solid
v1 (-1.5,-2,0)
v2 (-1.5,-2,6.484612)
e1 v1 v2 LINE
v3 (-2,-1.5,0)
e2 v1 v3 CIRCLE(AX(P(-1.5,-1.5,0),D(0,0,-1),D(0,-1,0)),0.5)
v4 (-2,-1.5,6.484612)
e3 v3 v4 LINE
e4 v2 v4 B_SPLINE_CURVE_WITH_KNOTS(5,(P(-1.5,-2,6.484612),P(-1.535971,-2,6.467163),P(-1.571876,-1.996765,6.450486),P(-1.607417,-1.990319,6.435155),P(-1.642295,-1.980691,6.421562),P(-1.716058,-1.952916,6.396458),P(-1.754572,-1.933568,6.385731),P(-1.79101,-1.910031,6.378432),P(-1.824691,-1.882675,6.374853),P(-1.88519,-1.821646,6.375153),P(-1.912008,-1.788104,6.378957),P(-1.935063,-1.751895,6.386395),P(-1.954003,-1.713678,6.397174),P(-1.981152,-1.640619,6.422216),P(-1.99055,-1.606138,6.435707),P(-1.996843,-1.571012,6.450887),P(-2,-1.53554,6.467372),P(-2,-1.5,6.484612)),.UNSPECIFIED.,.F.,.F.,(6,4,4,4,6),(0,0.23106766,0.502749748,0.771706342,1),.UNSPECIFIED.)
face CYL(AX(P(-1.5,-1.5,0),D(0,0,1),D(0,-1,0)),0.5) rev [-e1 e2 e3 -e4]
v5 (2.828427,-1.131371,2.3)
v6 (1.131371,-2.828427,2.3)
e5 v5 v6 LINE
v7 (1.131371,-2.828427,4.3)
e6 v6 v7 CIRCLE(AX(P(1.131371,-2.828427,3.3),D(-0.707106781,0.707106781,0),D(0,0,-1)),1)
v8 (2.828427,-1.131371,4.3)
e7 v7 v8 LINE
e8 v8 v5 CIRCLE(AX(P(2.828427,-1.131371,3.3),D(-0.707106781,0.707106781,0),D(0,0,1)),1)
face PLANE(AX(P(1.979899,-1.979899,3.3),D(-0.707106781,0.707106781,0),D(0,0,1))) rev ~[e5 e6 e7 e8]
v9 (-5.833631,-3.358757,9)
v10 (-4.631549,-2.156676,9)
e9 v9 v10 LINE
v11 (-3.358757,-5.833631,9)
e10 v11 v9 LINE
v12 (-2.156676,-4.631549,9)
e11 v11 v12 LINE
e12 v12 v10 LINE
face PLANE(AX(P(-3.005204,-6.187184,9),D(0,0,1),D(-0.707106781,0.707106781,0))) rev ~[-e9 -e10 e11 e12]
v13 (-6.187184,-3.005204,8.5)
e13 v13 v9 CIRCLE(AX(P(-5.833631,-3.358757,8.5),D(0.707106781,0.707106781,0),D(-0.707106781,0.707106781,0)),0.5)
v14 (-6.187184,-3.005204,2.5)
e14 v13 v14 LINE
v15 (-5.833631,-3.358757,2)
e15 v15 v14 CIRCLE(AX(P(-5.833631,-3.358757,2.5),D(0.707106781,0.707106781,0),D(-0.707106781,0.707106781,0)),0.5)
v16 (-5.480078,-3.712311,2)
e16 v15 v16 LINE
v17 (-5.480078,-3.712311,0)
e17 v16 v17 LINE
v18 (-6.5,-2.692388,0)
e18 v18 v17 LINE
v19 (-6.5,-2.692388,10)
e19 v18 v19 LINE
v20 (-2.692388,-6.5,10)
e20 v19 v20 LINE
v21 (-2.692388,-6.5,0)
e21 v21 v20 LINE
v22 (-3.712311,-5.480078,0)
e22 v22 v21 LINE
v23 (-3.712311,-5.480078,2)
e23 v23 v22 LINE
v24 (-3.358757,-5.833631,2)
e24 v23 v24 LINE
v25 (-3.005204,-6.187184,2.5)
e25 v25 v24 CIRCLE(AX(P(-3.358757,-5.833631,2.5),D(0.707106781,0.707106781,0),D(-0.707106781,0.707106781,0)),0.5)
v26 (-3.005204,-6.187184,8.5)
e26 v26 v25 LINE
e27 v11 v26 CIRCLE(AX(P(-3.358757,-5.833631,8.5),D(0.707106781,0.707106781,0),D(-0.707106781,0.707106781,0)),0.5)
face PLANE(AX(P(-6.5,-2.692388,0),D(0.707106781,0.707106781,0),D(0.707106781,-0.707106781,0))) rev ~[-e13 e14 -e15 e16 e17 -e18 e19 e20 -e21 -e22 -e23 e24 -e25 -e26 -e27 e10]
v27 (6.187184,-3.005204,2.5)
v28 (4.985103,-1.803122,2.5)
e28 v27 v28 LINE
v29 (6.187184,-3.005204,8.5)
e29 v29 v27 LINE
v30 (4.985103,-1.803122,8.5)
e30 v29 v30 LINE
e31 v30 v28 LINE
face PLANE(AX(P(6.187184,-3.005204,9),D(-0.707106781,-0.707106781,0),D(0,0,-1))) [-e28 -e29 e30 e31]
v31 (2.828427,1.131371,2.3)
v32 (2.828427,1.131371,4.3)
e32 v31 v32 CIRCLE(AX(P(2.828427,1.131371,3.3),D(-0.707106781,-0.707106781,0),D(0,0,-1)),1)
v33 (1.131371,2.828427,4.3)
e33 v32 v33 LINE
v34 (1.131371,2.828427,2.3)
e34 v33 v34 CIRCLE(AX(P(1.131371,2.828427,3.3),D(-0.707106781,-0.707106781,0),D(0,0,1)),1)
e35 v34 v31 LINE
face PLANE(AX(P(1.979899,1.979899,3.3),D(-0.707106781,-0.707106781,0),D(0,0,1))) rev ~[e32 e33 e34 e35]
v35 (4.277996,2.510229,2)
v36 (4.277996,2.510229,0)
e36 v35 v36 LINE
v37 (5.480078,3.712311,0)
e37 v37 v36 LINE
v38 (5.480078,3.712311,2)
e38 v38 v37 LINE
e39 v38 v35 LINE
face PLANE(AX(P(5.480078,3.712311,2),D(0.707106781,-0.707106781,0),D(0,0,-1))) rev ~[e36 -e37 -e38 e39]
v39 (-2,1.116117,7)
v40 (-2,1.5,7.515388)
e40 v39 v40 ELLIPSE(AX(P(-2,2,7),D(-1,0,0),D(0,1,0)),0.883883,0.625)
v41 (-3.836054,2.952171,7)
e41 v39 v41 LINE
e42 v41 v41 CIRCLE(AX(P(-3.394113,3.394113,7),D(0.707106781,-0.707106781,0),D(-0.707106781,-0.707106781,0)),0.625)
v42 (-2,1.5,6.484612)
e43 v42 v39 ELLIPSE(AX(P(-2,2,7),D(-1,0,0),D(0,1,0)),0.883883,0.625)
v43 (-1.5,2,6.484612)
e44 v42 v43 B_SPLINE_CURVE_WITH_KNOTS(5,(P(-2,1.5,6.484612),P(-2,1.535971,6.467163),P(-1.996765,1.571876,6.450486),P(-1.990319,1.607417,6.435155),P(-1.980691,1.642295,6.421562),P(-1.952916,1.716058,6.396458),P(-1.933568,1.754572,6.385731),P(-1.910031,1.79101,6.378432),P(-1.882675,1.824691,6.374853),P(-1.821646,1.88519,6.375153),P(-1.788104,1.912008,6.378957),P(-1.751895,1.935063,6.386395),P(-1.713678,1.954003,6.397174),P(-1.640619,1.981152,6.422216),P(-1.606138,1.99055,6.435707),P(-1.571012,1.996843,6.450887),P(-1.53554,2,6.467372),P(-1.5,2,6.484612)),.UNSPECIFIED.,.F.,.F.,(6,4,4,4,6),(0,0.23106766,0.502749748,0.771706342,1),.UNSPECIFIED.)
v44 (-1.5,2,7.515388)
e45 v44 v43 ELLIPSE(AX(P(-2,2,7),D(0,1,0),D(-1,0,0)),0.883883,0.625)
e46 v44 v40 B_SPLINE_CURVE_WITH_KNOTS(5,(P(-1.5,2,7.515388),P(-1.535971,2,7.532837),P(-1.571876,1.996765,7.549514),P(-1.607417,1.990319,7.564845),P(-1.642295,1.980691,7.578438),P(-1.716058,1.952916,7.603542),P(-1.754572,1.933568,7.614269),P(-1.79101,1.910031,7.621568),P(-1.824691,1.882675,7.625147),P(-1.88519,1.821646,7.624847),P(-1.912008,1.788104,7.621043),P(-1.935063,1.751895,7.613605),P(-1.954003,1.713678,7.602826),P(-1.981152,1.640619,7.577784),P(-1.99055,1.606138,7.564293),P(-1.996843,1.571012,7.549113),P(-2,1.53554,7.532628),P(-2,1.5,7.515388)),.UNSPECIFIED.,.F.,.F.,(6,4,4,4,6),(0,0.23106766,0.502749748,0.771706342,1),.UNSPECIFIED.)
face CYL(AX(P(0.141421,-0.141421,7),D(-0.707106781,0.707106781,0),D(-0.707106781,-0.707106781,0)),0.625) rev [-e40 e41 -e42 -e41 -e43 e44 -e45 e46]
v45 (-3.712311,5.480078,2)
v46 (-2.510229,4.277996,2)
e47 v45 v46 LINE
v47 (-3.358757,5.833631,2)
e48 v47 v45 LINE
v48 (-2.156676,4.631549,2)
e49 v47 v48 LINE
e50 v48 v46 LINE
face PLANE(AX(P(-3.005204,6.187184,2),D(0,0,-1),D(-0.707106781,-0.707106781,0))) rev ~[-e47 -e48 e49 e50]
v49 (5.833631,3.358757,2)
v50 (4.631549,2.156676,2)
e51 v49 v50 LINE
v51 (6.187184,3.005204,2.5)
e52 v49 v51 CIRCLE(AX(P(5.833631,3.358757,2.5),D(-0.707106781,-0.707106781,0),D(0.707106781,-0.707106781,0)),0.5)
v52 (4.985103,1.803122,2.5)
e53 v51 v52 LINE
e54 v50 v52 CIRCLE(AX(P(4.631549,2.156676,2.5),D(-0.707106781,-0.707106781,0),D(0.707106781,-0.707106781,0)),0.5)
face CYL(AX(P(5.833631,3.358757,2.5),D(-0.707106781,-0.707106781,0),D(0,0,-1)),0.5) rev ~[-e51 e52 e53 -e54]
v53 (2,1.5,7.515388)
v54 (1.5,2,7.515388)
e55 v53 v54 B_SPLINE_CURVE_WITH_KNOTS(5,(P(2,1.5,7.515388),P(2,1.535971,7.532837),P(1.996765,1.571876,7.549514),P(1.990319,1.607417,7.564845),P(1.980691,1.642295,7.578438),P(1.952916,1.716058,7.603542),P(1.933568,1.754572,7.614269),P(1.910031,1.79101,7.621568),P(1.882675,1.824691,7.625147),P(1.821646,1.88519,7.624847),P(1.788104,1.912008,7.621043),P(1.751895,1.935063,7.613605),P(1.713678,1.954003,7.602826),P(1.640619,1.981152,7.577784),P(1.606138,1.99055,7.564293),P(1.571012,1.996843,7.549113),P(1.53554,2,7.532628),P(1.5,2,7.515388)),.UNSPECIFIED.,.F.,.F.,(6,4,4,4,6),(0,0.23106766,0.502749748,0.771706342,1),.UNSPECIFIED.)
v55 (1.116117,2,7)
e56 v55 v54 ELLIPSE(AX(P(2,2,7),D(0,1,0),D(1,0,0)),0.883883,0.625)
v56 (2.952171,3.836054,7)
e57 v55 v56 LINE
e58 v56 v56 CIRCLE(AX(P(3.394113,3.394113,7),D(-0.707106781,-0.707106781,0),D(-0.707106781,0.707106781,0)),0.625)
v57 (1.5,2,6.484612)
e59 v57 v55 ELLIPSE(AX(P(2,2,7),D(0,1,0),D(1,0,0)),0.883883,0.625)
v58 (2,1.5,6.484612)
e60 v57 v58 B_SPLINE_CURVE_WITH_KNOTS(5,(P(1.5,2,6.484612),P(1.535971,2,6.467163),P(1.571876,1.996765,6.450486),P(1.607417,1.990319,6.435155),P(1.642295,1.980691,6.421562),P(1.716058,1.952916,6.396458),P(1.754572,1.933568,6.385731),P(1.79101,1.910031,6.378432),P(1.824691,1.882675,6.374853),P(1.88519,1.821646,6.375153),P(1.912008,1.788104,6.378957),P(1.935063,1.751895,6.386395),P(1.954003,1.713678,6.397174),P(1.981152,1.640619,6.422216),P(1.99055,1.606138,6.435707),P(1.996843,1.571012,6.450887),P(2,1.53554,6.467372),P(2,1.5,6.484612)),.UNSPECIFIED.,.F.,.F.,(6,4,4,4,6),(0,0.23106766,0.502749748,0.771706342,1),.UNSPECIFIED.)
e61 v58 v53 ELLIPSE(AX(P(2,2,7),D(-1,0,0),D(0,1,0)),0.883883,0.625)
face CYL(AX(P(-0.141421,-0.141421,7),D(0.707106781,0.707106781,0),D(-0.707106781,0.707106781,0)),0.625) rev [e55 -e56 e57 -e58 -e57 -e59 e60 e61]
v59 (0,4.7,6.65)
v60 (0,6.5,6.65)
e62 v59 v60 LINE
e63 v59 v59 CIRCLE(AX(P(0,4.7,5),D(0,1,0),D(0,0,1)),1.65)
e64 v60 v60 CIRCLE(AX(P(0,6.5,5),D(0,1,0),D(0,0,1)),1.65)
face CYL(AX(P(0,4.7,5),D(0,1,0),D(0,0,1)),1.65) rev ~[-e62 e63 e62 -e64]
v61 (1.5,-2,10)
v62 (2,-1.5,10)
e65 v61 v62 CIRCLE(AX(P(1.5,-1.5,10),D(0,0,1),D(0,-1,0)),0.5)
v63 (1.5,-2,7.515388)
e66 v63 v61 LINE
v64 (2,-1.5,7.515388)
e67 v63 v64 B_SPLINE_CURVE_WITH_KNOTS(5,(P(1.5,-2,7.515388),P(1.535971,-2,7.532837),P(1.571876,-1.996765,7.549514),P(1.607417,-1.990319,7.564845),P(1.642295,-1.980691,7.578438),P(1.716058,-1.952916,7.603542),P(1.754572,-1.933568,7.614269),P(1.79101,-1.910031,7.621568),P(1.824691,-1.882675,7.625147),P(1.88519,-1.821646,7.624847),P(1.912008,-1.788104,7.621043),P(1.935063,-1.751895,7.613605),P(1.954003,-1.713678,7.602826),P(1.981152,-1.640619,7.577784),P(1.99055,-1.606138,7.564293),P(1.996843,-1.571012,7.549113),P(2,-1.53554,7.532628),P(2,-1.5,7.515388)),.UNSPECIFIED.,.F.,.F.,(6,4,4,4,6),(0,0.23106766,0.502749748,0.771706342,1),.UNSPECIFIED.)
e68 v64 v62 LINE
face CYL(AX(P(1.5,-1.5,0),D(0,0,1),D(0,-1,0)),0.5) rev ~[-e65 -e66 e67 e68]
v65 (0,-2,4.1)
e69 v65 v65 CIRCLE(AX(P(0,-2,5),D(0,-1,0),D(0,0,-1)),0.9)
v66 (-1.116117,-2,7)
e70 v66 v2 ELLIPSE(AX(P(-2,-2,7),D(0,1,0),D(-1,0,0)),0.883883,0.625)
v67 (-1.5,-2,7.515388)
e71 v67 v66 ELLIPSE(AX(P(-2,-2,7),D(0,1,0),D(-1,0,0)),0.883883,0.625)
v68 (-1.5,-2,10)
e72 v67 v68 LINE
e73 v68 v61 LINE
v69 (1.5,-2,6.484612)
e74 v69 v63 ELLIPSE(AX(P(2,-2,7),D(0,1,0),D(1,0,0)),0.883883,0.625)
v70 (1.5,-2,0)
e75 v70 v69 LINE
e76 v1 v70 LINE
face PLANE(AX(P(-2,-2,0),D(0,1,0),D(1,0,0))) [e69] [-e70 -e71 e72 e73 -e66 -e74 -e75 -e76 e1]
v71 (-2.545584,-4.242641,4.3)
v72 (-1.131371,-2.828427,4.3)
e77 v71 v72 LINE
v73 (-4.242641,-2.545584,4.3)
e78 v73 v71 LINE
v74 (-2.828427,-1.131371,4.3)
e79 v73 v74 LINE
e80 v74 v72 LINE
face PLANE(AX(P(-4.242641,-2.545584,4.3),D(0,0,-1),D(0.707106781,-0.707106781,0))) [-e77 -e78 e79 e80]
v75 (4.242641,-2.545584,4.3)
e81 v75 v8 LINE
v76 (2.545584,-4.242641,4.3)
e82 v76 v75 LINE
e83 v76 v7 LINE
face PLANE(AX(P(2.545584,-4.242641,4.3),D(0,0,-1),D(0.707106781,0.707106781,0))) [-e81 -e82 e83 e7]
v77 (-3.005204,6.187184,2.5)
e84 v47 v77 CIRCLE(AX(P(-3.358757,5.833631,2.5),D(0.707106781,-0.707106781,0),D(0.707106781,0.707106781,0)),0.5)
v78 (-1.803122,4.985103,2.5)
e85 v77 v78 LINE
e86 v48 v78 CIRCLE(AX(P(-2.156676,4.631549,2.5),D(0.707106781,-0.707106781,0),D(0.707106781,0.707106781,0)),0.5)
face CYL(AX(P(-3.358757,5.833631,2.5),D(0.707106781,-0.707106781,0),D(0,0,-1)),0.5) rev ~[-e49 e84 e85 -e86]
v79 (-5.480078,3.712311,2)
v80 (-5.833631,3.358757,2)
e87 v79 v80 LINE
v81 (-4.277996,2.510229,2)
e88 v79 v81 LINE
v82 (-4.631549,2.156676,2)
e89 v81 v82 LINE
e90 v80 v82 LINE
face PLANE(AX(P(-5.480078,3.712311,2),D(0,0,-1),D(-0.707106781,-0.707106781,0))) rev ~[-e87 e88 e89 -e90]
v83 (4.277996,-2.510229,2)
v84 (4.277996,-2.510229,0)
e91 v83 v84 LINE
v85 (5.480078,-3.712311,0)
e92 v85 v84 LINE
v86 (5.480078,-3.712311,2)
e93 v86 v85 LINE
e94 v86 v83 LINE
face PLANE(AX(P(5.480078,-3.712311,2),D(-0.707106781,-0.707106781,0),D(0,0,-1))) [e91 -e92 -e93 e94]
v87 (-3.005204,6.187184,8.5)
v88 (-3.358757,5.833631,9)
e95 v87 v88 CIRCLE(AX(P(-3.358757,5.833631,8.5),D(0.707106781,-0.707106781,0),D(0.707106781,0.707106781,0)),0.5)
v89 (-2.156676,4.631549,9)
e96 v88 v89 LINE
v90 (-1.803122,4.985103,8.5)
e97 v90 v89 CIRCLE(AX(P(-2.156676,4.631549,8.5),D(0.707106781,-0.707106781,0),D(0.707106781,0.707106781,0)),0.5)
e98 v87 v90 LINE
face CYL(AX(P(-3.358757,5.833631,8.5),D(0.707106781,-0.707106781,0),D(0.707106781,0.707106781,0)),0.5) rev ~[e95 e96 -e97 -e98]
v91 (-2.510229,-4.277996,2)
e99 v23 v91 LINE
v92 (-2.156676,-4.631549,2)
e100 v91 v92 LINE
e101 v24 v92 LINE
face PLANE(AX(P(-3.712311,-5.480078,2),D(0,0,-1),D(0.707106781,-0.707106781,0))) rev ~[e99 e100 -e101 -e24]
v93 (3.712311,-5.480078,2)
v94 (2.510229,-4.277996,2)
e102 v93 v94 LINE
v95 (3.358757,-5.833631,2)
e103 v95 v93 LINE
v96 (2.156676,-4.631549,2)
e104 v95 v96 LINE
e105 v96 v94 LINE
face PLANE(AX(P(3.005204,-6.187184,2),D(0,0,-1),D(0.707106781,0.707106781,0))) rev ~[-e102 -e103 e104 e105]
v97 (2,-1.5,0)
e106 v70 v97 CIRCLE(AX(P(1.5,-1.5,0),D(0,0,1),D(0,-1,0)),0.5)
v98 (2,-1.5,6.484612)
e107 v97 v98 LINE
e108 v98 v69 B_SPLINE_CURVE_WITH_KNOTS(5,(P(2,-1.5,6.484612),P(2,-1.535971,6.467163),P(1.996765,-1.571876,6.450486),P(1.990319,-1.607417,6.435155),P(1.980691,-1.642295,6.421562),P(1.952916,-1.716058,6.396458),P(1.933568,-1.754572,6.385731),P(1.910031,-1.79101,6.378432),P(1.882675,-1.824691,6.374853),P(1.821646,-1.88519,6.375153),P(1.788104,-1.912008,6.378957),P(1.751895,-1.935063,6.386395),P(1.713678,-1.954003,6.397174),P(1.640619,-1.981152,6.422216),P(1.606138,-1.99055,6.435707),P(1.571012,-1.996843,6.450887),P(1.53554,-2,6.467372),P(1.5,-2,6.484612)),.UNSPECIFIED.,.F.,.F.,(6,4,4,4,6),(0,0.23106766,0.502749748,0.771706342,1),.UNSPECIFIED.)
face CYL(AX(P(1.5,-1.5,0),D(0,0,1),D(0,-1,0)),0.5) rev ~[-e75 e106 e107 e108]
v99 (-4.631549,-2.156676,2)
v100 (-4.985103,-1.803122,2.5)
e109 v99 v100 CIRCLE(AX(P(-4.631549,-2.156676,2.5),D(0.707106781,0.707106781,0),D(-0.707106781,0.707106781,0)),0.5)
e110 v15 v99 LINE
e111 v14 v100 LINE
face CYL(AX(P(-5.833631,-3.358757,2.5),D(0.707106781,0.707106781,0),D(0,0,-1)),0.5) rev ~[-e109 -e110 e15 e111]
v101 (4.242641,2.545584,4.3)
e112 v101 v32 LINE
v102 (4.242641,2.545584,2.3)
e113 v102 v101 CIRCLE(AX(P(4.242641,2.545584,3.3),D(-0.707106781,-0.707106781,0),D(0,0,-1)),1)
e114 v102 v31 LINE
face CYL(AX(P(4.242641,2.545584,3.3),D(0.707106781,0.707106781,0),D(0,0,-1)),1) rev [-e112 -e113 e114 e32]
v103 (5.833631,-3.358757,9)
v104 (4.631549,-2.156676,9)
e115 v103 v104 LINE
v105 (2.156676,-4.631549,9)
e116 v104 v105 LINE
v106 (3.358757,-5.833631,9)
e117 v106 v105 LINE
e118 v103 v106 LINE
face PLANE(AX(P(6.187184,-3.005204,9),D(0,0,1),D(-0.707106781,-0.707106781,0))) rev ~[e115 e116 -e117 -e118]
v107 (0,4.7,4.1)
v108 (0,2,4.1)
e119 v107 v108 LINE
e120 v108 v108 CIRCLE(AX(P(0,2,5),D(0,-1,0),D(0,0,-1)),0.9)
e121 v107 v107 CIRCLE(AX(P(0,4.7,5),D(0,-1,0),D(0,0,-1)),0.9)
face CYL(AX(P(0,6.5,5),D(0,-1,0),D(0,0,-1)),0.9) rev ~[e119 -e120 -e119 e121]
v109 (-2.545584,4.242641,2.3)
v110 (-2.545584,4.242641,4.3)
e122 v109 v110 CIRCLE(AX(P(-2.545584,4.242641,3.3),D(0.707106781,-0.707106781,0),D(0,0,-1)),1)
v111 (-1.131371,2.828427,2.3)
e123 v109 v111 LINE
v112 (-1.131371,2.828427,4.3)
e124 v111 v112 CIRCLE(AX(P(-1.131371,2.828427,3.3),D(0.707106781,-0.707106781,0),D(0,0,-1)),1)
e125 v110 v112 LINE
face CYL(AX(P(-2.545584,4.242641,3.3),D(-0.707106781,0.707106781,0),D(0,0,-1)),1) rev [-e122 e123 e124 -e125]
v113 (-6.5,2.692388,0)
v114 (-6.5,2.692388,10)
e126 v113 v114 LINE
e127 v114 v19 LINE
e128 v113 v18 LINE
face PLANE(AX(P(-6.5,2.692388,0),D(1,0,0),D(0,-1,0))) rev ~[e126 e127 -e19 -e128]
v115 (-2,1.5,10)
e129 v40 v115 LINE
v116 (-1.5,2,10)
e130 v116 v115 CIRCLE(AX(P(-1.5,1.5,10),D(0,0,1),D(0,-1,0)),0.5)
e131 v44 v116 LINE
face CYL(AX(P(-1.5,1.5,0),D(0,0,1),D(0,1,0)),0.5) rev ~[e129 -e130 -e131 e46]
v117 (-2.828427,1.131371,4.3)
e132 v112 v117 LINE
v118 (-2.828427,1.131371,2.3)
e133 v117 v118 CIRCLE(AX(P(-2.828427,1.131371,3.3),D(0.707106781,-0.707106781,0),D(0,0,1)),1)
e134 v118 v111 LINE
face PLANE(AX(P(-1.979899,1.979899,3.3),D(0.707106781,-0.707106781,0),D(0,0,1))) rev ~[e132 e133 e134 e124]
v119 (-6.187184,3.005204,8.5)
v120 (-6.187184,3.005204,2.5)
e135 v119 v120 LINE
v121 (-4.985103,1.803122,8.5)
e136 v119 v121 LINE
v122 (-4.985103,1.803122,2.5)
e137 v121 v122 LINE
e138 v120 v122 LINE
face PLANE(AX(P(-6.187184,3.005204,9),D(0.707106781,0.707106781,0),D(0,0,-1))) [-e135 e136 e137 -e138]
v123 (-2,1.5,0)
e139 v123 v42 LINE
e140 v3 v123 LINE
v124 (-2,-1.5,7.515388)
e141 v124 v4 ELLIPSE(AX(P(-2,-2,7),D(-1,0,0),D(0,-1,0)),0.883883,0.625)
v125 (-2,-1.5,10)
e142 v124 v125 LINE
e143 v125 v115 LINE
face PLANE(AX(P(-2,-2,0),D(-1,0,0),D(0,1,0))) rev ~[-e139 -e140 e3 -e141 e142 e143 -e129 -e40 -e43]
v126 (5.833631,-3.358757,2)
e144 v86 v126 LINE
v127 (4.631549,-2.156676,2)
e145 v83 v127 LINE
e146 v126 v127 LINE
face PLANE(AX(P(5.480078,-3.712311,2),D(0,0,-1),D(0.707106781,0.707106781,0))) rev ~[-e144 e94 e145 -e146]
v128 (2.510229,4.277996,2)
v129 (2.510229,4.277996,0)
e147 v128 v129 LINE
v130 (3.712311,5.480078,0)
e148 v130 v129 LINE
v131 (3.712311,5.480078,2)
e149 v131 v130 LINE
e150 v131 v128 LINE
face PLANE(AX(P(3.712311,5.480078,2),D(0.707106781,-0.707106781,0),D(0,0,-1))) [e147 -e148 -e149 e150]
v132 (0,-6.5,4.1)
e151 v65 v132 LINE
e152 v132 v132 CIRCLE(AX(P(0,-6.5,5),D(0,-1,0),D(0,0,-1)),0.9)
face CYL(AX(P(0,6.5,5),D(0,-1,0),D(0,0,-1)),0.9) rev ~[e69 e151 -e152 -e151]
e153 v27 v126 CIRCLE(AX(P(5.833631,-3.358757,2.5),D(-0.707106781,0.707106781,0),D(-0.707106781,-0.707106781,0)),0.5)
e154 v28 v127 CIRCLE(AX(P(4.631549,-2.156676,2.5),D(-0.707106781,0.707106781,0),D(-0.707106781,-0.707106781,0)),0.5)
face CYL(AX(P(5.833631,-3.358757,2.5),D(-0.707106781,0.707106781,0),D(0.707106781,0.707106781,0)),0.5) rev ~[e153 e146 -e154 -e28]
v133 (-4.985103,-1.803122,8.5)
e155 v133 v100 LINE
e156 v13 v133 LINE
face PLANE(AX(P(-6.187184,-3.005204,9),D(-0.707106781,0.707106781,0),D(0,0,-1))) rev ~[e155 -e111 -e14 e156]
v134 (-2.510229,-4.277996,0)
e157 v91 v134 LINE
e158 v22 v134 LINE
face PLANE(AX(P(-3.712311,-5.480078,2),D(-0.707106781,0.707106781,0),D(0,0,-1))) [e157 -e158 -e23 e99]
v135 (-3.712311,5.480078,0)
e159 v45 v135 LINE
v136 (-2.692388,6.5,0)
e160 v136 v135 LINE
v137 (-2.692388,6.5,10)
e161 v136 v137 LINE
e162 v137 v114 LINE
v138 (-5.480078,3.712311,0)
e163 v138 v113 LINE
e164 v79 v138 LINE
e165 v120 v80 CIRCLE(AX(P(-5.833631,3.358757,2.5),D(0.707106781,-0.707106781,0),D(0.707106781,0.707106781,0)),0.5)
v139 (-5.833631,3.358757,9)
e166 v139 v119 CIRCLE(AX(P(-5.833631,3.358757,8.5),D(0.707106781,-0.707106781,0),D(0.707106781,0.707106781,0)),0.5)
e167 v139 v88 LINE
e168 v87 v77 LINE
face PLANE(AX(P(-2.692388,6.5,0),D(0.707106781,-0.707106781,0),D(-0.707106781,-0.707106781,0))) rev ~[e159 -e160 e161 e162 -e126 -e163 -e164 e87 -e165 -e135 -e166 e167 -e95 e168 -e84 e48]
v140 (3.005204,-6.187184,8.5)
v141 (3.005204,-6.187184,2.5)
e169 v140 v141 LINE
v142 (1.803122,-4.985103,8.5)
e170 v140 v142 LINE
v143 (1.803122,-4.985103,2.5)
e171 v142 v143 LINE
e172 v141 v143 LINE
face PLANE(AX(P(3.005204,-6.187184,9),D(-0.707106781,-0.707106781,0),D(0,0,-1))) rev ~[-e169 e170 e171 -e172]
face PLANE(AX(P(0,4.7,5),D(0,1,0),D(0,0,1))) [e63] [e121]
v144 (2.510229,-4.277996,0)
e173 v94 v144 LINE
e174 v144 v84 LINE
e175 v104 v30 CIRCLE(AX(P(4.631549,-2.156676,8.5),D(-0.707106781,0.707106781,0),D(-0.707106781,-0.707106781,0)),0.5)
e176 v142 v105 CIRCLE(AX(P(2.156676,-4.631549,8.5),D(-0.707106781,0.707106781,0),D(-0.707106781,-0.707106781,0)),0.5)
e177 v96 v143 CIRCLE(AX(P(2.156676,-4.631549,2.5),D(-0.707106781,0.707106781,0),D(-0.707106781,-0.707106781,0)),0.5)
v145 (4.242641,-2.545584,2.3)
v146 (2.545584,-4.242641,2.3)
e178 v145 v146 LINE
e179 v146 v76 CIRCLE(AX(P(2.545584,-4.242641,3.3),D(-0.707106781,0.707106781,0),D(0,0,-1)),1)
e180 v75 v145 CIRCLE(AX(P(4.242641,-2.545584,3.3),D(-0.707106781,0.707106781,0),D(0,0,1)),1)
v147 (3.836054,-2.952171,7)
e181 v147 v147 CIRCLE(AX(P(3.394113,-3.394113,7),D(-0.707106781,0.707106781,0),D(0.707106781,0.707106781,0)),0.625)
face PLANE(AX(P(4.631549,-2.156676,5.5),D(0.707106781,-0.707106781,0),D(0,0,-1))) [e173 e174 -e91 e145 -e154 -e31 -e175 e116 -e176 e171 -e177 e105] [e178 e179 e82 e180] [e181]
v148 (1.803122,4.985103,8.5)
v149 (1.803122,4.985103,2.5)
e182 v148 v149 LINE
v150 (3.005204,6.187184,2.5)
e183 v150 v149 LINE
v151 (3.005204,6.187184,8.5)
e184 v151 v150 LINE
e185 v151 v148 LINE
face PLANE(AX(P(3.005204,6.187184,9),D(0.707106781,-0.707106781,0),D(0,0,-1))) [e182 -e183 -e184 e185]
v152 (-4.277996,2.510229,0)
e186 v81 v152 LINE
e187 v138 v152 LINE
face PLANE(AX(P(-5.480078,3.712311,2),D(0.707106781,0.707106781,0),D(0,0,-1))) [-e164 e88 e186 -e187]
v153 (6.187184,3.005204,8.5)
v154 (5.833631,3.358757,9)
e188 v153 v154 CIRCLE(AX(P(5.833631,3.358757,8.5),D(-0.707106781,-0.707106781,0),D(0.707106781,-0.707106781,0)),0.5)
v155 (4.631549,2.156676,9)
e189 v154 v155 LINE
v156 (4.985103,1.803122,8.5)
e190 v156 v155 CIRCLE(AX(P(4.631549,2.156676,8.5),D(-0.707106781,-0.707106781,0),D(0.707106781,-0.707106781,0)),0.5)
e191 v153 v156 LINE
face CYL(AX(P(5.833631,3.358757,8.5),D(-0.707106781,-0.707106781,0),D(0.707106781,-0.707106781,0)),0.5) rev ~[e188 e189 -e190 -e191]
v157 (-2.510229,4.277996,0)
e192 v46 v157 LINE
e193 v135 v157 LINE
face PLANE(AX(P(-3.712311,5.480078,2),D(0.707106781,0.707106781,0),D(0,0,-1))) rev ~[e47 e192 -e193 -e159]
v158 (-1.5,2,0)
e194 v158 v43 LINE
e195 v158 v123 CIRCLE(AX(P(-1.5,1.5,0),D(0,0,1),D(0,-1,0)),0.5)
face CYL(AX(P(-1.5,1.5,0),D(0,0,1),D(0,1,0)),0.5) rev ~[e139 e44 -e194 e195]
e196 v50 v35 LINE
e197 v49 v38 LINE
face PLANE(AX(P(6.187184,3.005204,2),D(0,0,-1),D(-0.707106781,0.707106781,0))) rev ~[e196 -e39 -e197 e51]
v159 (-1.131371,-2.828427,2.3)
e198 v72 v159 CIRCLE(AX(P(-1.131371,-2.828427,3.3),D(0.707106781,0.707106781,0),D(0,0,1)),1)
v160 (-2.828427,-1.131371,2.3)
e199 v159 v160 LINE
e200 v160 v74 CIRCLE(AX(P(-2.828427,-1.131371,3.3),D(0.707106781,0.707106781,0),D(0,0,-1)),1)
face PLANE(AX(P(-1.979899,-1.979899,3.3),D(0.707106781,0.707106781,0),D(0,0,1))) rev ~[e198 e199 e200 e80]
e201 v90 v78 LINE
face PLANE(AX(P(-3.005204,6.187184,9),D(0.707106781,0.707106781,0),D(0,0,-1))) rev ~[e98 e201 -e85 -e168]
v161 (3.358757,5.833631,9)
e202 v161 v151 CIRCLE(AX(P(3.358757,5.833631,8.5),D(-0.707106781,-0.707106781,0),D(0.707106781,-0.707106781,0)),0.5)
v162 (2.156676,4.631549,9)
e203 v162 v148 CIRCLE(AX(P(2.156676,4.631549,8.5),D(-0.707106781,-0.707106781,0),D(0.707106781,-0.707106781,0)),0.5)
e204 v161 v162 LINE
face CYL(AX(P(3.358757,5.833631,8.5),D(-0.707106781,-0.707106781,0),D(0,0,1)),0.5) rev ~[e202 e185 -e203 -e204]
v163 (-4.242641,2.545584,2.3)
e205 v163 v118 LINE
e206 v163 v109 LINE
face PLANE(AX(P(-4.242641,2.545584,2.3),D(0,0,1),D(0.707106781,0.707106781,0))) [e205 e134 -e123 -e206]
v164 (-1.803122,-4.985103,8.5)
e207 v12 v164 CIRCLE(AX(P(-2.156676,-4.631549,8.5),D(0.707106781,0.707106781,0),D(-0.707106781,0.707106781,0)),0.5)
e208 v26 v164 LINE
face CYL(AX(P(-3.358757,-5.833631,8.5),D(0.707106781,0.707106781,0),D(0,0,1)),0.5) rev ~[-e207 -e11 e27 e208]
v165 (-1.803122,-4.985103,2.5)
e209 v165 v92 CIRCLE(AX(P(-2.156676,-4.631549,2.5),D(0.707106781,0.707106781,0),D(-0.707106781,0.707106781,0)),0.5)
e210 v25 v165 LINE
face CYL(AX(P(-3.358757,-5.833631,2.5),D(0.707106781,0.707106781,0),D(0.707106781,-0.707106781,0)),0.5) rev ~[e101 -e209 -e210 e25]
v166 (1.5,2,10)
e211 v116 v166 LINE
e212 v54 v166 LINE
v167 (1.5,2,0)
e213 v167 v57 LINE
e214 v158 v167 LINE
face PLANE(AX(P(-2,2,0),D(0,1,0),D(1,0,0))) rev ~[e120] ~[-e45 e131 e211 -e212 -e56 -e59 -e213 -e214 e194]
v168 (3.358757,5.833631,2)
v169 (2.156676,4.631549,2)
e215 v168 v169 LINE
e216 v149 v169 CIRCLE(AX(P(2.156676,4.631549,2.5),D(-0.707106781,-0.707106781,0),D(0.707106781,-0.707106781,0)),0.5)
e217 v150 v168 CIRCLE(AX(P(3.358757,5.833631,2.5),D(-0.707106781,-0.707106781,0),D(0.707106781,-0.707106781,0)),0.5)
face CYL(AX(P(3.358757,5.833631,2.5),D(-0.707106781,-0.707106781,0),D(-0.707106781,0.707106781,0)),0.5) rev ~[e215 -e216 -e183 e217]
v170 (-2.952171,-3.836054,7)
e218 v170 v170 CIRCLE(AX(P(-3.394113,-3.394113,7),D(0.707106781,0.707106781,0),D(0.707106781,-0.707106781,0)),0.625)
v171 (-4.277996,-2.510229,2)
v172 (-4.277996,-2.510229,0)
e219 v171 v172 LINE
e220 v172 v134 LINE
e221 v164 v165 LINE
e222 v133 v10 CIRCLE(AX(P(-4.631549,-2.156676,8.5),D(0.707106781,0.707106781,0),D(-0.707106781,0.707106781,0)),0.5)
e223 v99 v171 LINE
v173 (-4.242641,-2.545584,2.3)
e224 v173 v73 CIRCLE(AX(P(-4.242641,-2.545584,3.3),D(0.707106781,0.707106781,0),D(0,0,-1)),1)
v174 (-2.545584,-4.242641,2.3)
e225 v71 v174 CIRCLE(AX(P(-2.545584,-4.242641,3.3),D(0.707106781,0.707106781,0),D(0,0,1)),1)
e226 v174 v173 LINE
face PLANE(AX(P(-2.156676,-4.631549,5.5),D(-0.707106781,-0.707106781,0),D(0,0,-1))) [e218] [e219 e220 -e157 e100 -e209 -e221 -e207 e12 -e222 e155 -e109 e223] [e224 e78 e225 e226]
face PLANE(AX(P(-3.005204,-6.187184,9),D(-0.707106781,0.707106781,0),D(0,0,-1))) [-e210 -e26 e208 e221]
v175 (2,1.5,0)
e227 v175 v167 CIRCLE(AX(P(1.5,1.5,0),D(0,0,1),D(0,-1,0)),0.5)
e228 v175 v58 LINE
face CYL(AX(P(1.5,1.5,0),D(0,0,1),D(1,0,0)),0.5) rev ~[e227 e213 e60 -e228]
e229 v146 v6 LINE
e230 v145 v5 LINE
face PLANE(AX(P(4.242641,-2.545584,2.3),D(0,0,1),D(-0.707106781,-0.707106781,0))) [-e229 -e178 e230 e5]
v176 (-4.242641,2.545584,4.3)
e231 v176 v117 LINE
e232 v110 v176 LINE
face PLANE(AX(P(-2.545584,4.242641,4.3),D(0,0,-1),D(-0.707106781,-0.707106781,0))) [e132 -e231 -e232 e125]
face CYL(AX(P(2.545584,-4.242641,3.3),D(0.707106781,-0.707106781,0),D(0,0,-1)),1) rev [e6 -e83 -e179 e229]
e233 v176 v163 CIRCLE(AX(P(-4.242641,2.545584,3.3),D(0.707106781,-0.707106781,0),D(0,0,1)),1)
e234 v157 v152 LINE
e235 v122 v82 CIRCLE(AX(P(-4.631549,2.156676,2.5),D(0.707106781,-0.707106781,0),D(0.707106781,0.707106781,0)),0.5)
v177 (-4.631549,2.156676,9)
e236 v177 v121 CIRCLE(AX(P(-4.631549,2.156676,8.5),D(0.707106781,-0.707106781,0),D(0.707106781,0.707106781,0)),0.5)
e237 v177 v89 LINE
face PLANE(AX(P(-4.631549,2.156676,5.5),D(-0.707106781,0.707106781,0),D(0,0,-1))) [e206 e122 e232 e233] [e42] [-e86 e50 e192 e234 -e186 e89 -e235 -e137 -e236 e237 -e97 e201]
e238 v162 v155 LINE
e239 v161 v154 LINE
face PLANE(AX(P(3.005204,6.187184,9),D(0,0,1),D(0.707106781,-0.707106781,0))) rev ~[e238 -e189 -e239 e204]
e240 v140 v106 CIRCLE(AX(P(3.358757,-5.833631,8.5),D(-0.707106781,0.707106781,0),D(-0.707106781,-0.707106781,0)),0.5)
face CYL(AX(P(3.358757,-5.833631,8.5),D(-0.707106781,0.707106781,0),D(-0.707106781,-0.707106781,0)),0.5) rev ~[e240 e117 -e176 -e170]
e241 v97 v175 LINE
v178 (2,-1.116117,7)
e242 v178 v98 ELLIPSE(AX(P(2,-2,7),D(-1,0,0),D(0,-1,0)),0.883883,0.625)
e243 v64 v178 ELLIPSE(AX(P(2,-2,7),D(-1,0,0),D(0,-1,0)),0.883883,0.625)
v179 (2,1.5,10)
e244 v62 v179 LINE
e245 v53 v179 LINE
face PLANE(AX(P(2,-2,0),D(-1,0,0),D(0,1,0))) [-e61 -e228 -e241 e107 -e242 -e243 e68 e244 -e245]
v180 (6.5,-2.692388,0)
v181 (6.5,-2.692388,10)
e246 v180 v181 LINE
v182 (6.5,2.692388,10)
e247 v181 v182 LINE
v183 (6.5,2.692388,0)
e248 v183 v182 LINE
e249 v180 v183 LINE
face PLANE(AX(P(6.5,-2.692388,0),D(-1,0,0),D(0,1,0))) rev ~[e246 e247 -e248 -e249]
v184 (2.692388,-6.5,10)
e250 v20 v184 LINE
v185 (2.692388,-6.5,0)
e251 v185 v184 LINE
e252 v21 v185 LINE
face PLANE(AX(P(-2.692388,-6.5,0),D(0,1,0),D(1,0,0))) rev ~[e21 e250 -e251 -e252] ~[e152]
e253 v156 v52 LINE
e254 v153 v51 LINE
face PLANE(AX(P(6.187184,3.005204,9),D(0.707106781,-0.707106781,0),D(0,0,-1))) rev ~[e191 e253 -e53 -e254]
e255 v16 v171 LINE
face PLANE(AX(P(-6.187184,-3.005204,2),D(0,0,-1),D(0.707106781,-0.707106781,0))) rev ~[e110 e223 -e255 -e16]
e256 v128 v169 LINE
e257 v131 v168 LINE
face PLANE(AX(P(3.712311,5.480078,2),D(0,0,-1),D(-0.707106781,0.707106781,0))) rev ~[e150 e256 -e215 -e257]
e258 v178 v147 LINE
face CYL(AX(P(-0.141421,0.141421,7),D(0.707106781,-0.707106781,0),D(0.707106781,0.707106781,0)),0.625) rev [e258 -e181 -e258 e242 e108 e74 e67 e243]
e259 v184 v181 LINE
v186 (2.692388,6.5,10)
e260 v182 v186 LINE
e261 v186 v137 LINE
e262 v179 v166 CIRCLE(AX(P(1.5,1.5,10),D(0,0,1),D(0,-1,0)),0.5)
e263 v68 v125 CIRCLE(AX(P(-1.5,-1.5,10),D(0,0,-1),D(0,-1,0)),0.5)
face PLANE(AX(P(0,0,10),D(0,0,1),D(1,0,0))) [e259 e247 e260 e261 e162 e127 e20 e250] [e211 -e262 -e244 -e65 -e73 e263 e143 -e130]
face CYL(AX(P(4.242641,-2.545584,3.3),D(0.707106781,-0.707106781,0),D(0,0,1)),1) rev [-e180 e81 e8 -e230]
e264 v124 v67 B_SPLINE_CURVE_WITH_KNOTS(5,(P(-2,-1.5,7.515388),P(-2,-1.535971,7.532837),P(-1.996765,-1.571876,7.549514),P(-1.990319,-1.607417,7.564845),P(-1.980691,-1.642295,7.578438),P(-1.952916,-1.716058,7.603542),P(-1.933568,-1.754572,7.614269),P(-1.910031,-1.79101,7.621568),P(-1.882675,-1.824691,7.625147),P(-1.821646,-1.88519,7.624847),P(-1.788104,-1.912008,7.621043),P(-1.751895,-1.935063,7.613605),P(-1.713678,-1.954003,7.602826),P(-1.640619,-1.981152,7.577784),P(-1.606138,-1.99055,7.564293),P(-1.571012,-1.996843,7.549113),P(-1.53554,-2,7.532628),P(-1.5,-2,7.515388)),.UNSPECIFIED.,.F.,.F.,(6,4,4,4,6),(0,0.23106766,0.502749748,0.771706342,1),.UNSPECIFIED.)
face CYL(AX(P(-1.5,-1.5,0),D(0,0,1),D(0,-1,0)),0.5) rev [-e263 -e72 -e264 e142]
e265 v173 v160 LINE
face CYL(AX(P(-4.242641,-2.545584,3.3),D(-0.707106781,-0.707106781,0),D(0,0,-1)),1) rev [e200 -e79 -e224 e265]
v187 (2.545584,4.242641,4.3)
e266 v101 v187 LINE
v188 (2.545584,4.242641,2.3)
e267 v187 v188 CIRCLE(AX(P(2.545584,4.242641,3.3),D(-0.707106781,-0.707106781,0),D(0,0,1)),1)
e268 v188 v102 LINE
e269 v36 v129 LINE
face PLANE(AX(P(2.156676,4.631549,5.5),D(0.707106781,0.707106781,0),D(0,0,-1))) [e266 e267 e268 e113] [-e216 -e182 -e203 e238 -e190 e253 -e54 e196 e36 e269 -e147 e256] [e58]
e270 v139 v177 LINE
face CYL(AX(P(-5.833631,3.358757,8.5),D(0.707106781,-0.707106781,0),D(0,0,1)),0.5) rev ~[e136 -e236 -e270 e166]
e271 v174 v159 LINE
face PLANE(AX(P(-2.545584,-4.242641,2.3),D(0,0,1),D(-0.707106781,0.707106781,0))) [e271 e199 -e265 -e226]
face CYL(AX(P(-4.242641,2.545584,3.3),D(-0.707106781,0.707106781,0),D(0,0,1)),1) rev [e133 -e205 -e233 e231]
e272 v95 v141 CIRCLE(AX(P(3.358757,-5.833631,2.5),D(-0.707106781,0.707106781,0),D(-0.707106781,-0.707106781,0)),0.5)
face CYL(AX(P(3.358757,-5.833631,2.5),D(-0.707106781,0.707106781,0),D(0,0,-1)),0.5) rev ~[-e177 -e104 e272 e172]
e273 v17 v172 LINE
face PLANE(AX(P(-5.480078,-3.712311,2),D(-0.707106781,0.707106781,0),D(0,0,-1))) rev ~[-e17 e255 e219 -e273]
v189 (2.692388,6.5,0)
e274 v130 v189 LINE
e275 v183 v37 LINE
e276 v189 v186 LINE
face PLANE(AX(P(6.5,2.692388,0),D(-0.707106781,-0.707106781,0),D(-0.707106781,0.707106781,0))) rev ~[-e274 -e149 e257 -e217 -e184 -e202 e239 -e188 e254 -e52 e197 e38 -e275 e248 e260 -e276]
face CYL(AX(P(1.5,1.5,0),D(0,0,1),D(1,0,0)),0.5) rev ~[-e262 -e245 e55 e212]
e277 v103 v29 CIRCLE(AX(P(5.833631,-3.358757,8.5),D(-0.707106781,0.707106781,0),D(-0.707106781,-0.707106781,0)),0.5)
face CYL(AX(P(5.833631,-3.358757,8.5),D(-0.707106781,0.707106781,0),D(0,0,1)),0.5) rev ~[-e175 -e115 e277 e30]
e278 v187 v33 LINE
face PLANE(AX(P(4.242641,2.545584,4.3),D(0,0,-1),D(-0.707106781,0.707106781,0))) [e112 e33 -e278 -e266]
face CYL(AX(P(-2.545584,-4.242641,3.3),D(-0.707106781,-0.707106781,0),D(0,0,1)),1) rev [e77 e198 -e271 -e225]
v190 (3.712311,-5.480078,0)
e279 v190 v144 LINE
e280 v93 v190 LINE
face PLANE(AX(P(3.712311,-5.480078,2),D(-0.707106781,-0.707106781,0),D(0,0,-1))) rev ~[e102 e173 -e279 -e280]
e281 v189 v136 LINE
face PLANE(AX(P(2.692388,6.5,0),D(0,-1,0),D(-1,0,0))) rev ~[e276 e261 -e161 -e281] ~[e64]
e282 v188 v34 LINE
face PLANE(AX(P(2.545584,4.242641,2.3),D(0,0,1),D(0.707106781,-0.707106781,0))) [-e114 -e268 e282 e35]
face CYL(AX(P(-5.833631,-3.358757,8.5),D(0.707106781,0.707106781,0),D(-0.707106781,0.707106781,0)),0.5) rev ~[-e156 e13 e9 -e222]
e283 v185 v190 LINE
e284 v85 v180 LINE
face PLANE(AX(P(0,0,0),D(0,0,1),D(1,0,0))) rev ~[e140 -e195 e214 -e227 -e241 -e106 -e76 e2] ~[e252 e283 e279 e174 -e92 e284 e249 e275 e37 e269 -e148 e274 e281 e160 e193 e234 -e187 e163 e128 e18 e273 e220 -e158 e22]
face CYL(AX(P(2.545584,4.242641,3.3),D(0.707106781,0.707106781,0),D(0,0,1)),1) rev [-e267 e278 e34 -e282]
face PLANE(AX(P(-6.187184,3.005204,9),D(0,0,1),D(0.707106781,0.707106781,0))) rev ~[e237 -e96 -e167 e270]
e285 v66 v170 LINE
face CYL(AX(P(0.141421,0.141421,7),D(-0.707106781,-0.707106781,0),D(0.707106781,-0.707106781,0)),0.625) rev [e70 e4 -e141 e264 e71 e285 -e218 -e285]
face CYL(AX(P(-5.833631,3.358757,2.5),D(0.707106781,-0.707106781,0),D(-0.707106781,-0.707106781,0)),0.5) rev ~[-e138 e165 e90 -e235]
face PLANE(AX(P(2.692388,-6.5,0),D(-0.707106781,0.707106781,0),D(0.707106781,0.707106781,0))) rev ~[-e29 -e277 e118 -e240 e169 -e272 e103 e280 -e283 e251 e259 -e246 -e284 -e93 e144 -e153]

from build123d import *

# Parameters (mm, degrees)
SKETCH1_W                                            = 4
SKETCH1_H                                            = 4
BOSS_EXTRUDE1_DEPTH                                  = 10
FILLET2_R                                            = 0.5
CUT_EXTRUDE3_DEPTH                                   = 1.7
FILLET3_R                                            = 0.5
CUT_EXTRUDE4_DEPTH                                   = 2
CIRPATTERN14_COUNT                                   = 4
FILLET3_OF_CIRPATTERN14_R                            = 0.5
CBORE_FOR_M1_6_HEXAGON_SOCKET_HEAD_CAP_S_D           = 1.8
CBORE_FOR_M1_6_HEXAGON_SOCKET_HEAD_CAP_S_CBORE_D     = 3.3
CBORE_FOR_M1_6_HEXAGON_SOCKET_HEAD_CAP_S_CBORE_DEPTH = 1.8


with BuildPart() as part:
    # Sketch1 → Boss-Extrude1 (new body)
    with BuildSketch(Plane.XY):
        Polygon((-2.692388155, 6.5), (-6.5, 2.692388155), (-6.5, -2.692388155), (-2.692388155, -6.5), (2.692388155, -6.5), (6.5, -2.692388155), (6.5, 2.692388155), (2.692388155, 6.5), align=None)
        Rectangle(SKETCH1_W, SKETCH1_H, mode=Mode.SUBTRACT)
    extrude(amount=BOSS_EXTRUDE1_DEPTH)

    # Fillet2
    fillet2_edges = [part.edges().sort_by_distance(p)[0] for p in [
        (-2, -2, 5),
        (2, -2, 5),
        (2, 2, 5),
        (-2, 2, 5),
    ]]
    fillet(fillet2_edges, radius=FILLET2_R)

    # Sketch11 → Cut-Extrude3 (cut)
    with BuildSketch(Plane(origin=(4.596194078, 4.596194078, 0), x_dir=(0, 0, -1), z_dir=(0.7071067811865477, 0.7071067811865475, 0))):
        Polygon((-2, 2.25), (-9, 2.25), (-9, -2.25), (-2, -2.25), (-2, -1.25), (0, -1.25), (0, 1.25), (-2, 1.25), align=None)
    cut_extrude3 = extrude(amount=-CUT_EXTRUDE3_DEPTH, mode=Mode.SUBTRACT)

    # Fillet3
    fillet3_edges = [part.edges().sort_by_distance(p)[0] for p in [
        (5.586143571, 2.404163056, 9),
        (5.586143571, 2.404163056, 2),
        (2.404163056, 5.586143571, 2),
        (2.404163056, 5.586143571, 9),
    ]]
    fillet(fillet3_edges, radius=FILLET3_R)

    # Sketch13 → Tap Drill for M1.6 Tap2 (revolve, cut)
    with BuildSketch(Plane(origin=(3.39411255, 3.39411255, 7), x_dir=(-0.7071067811865475, 0.7071067811865477, 0), z_dir=(0, 0, 1))):
        Polygon((0, 0), (0, 5.375537887), (0.625, 5), (0.625, 0), align=None)
    tap_drill_for_m1_6_tap2 = revolve(axis=Axis((7.88424061, 7.88424061, 7), (-0.7071067811865477, -0.7071067811865475, 0)), mode=Mode.SUBTRACT)

    # Sketch14 → Cut-Extrude4 (cut)
    with BuildSketch(Plane(origin=(3.39411255, 3.39411255, 0), x_dir=(0, 0, -1), z_dir=(0.7071067811865476, 0.7071067811865476, 0))):
        with BuildLine():
            Line((-2.3, 1.2), (-2.3, -1.2))
            ThreePointArc((-2.3, -1.2), (-3.3, -2.2), (-4.3, -1.2))
            Line((-4.3, -1.2), (-4.3, 1.2))
            ThreePointArc((-4.3, 1.2), (-3.3, 2.2), (-2.3, 1.2))
        make_face()
    cut_extrude4 = extrude(amount=-CUT_EXTRUDE4_DEPTH, mode=Mode.SUBTRACT)

    # CirPattern14: Cut-Extrude3, Tap Drill for M1.6 Tap2, Cut-Extrude4 ×4 about axis
    cirpattern14_axis = Axis((0, 0, 10.5), (0, 0, -1))
    add([cut_extrude3.rotate(cirpattern14_axis, i * 360 / CIRPATTERN14_COUNT) for i in range(1, CIRPATTERN14_COUNT)], mode=Mode.SUBTRACT)
    add([tap_drill_for_m1_6_tap2.rotate(cirpattern14_axis, i * 360 / CIRPATTERN14_COUNT) for i in range(1, CIRPATTERN14_COUNT)], mode=Mode.SUBTRACT)
    add([cut_extrude4.rotate(cirpattern14_axis, i * 360 / CIRPATTERN14_COUNT) for i in range(1, CIRPATTERN14_COUNT)], mode=Mode.SUBTRACT)

    # Fillet3 of CirPattern14
    fillet3_of_cirpattern14_edges = [part.edges().sort_by_distance(p)[0] for p in [
        (2.404163056, -5.586143571, 9),
        (2.404163056, -5.586143571, 2),
        (5.586143571, -2.404163056, 2),
        (5.586143571, -2.404163056, 9),
        (-5.586143571, -2.404163056, 9),
        (-5.586143571, -2.404163056, 2),
        (-2.404163056, -5.586143571, 2),
        (-2.404163056, -5.586143571, 9),
        (-2.404163056, 5.586143571, 9),
        (-2.404163056, 5.586143571, 2),
        (-5.586143571, 2.404163056, 2),
        (-5.586143571, 2.404163056, 9),
    ]]
    fillet(fillet3_of_cirpattern14_edges, radius=FILLET3_OF_CIRPATTERN14_R)

    # CBORE for M1.6 Hexagon socket head cap screws1 (through all)
    with Locations(Plane(origin=(0, 6.5, 5), x_dir=(0, 0, 1), z_dir=(0, 1, 0))):
        with Locations((0, 0)):
            CounterBoreHole(CBORE_FOR_M1_6_HEXAGON_SOCKET_HEAD_CAP_S_D / 2, CBORE_FOR_M1_6_HEXAGON_SOCKET_HEAD_CAP_S_CBORE_D / 2, CBORE_FOR_M1_6_HEXAGON_SOCKET_HEAD_CAP_S_CBORE_DEPTH)


solid = part.part
